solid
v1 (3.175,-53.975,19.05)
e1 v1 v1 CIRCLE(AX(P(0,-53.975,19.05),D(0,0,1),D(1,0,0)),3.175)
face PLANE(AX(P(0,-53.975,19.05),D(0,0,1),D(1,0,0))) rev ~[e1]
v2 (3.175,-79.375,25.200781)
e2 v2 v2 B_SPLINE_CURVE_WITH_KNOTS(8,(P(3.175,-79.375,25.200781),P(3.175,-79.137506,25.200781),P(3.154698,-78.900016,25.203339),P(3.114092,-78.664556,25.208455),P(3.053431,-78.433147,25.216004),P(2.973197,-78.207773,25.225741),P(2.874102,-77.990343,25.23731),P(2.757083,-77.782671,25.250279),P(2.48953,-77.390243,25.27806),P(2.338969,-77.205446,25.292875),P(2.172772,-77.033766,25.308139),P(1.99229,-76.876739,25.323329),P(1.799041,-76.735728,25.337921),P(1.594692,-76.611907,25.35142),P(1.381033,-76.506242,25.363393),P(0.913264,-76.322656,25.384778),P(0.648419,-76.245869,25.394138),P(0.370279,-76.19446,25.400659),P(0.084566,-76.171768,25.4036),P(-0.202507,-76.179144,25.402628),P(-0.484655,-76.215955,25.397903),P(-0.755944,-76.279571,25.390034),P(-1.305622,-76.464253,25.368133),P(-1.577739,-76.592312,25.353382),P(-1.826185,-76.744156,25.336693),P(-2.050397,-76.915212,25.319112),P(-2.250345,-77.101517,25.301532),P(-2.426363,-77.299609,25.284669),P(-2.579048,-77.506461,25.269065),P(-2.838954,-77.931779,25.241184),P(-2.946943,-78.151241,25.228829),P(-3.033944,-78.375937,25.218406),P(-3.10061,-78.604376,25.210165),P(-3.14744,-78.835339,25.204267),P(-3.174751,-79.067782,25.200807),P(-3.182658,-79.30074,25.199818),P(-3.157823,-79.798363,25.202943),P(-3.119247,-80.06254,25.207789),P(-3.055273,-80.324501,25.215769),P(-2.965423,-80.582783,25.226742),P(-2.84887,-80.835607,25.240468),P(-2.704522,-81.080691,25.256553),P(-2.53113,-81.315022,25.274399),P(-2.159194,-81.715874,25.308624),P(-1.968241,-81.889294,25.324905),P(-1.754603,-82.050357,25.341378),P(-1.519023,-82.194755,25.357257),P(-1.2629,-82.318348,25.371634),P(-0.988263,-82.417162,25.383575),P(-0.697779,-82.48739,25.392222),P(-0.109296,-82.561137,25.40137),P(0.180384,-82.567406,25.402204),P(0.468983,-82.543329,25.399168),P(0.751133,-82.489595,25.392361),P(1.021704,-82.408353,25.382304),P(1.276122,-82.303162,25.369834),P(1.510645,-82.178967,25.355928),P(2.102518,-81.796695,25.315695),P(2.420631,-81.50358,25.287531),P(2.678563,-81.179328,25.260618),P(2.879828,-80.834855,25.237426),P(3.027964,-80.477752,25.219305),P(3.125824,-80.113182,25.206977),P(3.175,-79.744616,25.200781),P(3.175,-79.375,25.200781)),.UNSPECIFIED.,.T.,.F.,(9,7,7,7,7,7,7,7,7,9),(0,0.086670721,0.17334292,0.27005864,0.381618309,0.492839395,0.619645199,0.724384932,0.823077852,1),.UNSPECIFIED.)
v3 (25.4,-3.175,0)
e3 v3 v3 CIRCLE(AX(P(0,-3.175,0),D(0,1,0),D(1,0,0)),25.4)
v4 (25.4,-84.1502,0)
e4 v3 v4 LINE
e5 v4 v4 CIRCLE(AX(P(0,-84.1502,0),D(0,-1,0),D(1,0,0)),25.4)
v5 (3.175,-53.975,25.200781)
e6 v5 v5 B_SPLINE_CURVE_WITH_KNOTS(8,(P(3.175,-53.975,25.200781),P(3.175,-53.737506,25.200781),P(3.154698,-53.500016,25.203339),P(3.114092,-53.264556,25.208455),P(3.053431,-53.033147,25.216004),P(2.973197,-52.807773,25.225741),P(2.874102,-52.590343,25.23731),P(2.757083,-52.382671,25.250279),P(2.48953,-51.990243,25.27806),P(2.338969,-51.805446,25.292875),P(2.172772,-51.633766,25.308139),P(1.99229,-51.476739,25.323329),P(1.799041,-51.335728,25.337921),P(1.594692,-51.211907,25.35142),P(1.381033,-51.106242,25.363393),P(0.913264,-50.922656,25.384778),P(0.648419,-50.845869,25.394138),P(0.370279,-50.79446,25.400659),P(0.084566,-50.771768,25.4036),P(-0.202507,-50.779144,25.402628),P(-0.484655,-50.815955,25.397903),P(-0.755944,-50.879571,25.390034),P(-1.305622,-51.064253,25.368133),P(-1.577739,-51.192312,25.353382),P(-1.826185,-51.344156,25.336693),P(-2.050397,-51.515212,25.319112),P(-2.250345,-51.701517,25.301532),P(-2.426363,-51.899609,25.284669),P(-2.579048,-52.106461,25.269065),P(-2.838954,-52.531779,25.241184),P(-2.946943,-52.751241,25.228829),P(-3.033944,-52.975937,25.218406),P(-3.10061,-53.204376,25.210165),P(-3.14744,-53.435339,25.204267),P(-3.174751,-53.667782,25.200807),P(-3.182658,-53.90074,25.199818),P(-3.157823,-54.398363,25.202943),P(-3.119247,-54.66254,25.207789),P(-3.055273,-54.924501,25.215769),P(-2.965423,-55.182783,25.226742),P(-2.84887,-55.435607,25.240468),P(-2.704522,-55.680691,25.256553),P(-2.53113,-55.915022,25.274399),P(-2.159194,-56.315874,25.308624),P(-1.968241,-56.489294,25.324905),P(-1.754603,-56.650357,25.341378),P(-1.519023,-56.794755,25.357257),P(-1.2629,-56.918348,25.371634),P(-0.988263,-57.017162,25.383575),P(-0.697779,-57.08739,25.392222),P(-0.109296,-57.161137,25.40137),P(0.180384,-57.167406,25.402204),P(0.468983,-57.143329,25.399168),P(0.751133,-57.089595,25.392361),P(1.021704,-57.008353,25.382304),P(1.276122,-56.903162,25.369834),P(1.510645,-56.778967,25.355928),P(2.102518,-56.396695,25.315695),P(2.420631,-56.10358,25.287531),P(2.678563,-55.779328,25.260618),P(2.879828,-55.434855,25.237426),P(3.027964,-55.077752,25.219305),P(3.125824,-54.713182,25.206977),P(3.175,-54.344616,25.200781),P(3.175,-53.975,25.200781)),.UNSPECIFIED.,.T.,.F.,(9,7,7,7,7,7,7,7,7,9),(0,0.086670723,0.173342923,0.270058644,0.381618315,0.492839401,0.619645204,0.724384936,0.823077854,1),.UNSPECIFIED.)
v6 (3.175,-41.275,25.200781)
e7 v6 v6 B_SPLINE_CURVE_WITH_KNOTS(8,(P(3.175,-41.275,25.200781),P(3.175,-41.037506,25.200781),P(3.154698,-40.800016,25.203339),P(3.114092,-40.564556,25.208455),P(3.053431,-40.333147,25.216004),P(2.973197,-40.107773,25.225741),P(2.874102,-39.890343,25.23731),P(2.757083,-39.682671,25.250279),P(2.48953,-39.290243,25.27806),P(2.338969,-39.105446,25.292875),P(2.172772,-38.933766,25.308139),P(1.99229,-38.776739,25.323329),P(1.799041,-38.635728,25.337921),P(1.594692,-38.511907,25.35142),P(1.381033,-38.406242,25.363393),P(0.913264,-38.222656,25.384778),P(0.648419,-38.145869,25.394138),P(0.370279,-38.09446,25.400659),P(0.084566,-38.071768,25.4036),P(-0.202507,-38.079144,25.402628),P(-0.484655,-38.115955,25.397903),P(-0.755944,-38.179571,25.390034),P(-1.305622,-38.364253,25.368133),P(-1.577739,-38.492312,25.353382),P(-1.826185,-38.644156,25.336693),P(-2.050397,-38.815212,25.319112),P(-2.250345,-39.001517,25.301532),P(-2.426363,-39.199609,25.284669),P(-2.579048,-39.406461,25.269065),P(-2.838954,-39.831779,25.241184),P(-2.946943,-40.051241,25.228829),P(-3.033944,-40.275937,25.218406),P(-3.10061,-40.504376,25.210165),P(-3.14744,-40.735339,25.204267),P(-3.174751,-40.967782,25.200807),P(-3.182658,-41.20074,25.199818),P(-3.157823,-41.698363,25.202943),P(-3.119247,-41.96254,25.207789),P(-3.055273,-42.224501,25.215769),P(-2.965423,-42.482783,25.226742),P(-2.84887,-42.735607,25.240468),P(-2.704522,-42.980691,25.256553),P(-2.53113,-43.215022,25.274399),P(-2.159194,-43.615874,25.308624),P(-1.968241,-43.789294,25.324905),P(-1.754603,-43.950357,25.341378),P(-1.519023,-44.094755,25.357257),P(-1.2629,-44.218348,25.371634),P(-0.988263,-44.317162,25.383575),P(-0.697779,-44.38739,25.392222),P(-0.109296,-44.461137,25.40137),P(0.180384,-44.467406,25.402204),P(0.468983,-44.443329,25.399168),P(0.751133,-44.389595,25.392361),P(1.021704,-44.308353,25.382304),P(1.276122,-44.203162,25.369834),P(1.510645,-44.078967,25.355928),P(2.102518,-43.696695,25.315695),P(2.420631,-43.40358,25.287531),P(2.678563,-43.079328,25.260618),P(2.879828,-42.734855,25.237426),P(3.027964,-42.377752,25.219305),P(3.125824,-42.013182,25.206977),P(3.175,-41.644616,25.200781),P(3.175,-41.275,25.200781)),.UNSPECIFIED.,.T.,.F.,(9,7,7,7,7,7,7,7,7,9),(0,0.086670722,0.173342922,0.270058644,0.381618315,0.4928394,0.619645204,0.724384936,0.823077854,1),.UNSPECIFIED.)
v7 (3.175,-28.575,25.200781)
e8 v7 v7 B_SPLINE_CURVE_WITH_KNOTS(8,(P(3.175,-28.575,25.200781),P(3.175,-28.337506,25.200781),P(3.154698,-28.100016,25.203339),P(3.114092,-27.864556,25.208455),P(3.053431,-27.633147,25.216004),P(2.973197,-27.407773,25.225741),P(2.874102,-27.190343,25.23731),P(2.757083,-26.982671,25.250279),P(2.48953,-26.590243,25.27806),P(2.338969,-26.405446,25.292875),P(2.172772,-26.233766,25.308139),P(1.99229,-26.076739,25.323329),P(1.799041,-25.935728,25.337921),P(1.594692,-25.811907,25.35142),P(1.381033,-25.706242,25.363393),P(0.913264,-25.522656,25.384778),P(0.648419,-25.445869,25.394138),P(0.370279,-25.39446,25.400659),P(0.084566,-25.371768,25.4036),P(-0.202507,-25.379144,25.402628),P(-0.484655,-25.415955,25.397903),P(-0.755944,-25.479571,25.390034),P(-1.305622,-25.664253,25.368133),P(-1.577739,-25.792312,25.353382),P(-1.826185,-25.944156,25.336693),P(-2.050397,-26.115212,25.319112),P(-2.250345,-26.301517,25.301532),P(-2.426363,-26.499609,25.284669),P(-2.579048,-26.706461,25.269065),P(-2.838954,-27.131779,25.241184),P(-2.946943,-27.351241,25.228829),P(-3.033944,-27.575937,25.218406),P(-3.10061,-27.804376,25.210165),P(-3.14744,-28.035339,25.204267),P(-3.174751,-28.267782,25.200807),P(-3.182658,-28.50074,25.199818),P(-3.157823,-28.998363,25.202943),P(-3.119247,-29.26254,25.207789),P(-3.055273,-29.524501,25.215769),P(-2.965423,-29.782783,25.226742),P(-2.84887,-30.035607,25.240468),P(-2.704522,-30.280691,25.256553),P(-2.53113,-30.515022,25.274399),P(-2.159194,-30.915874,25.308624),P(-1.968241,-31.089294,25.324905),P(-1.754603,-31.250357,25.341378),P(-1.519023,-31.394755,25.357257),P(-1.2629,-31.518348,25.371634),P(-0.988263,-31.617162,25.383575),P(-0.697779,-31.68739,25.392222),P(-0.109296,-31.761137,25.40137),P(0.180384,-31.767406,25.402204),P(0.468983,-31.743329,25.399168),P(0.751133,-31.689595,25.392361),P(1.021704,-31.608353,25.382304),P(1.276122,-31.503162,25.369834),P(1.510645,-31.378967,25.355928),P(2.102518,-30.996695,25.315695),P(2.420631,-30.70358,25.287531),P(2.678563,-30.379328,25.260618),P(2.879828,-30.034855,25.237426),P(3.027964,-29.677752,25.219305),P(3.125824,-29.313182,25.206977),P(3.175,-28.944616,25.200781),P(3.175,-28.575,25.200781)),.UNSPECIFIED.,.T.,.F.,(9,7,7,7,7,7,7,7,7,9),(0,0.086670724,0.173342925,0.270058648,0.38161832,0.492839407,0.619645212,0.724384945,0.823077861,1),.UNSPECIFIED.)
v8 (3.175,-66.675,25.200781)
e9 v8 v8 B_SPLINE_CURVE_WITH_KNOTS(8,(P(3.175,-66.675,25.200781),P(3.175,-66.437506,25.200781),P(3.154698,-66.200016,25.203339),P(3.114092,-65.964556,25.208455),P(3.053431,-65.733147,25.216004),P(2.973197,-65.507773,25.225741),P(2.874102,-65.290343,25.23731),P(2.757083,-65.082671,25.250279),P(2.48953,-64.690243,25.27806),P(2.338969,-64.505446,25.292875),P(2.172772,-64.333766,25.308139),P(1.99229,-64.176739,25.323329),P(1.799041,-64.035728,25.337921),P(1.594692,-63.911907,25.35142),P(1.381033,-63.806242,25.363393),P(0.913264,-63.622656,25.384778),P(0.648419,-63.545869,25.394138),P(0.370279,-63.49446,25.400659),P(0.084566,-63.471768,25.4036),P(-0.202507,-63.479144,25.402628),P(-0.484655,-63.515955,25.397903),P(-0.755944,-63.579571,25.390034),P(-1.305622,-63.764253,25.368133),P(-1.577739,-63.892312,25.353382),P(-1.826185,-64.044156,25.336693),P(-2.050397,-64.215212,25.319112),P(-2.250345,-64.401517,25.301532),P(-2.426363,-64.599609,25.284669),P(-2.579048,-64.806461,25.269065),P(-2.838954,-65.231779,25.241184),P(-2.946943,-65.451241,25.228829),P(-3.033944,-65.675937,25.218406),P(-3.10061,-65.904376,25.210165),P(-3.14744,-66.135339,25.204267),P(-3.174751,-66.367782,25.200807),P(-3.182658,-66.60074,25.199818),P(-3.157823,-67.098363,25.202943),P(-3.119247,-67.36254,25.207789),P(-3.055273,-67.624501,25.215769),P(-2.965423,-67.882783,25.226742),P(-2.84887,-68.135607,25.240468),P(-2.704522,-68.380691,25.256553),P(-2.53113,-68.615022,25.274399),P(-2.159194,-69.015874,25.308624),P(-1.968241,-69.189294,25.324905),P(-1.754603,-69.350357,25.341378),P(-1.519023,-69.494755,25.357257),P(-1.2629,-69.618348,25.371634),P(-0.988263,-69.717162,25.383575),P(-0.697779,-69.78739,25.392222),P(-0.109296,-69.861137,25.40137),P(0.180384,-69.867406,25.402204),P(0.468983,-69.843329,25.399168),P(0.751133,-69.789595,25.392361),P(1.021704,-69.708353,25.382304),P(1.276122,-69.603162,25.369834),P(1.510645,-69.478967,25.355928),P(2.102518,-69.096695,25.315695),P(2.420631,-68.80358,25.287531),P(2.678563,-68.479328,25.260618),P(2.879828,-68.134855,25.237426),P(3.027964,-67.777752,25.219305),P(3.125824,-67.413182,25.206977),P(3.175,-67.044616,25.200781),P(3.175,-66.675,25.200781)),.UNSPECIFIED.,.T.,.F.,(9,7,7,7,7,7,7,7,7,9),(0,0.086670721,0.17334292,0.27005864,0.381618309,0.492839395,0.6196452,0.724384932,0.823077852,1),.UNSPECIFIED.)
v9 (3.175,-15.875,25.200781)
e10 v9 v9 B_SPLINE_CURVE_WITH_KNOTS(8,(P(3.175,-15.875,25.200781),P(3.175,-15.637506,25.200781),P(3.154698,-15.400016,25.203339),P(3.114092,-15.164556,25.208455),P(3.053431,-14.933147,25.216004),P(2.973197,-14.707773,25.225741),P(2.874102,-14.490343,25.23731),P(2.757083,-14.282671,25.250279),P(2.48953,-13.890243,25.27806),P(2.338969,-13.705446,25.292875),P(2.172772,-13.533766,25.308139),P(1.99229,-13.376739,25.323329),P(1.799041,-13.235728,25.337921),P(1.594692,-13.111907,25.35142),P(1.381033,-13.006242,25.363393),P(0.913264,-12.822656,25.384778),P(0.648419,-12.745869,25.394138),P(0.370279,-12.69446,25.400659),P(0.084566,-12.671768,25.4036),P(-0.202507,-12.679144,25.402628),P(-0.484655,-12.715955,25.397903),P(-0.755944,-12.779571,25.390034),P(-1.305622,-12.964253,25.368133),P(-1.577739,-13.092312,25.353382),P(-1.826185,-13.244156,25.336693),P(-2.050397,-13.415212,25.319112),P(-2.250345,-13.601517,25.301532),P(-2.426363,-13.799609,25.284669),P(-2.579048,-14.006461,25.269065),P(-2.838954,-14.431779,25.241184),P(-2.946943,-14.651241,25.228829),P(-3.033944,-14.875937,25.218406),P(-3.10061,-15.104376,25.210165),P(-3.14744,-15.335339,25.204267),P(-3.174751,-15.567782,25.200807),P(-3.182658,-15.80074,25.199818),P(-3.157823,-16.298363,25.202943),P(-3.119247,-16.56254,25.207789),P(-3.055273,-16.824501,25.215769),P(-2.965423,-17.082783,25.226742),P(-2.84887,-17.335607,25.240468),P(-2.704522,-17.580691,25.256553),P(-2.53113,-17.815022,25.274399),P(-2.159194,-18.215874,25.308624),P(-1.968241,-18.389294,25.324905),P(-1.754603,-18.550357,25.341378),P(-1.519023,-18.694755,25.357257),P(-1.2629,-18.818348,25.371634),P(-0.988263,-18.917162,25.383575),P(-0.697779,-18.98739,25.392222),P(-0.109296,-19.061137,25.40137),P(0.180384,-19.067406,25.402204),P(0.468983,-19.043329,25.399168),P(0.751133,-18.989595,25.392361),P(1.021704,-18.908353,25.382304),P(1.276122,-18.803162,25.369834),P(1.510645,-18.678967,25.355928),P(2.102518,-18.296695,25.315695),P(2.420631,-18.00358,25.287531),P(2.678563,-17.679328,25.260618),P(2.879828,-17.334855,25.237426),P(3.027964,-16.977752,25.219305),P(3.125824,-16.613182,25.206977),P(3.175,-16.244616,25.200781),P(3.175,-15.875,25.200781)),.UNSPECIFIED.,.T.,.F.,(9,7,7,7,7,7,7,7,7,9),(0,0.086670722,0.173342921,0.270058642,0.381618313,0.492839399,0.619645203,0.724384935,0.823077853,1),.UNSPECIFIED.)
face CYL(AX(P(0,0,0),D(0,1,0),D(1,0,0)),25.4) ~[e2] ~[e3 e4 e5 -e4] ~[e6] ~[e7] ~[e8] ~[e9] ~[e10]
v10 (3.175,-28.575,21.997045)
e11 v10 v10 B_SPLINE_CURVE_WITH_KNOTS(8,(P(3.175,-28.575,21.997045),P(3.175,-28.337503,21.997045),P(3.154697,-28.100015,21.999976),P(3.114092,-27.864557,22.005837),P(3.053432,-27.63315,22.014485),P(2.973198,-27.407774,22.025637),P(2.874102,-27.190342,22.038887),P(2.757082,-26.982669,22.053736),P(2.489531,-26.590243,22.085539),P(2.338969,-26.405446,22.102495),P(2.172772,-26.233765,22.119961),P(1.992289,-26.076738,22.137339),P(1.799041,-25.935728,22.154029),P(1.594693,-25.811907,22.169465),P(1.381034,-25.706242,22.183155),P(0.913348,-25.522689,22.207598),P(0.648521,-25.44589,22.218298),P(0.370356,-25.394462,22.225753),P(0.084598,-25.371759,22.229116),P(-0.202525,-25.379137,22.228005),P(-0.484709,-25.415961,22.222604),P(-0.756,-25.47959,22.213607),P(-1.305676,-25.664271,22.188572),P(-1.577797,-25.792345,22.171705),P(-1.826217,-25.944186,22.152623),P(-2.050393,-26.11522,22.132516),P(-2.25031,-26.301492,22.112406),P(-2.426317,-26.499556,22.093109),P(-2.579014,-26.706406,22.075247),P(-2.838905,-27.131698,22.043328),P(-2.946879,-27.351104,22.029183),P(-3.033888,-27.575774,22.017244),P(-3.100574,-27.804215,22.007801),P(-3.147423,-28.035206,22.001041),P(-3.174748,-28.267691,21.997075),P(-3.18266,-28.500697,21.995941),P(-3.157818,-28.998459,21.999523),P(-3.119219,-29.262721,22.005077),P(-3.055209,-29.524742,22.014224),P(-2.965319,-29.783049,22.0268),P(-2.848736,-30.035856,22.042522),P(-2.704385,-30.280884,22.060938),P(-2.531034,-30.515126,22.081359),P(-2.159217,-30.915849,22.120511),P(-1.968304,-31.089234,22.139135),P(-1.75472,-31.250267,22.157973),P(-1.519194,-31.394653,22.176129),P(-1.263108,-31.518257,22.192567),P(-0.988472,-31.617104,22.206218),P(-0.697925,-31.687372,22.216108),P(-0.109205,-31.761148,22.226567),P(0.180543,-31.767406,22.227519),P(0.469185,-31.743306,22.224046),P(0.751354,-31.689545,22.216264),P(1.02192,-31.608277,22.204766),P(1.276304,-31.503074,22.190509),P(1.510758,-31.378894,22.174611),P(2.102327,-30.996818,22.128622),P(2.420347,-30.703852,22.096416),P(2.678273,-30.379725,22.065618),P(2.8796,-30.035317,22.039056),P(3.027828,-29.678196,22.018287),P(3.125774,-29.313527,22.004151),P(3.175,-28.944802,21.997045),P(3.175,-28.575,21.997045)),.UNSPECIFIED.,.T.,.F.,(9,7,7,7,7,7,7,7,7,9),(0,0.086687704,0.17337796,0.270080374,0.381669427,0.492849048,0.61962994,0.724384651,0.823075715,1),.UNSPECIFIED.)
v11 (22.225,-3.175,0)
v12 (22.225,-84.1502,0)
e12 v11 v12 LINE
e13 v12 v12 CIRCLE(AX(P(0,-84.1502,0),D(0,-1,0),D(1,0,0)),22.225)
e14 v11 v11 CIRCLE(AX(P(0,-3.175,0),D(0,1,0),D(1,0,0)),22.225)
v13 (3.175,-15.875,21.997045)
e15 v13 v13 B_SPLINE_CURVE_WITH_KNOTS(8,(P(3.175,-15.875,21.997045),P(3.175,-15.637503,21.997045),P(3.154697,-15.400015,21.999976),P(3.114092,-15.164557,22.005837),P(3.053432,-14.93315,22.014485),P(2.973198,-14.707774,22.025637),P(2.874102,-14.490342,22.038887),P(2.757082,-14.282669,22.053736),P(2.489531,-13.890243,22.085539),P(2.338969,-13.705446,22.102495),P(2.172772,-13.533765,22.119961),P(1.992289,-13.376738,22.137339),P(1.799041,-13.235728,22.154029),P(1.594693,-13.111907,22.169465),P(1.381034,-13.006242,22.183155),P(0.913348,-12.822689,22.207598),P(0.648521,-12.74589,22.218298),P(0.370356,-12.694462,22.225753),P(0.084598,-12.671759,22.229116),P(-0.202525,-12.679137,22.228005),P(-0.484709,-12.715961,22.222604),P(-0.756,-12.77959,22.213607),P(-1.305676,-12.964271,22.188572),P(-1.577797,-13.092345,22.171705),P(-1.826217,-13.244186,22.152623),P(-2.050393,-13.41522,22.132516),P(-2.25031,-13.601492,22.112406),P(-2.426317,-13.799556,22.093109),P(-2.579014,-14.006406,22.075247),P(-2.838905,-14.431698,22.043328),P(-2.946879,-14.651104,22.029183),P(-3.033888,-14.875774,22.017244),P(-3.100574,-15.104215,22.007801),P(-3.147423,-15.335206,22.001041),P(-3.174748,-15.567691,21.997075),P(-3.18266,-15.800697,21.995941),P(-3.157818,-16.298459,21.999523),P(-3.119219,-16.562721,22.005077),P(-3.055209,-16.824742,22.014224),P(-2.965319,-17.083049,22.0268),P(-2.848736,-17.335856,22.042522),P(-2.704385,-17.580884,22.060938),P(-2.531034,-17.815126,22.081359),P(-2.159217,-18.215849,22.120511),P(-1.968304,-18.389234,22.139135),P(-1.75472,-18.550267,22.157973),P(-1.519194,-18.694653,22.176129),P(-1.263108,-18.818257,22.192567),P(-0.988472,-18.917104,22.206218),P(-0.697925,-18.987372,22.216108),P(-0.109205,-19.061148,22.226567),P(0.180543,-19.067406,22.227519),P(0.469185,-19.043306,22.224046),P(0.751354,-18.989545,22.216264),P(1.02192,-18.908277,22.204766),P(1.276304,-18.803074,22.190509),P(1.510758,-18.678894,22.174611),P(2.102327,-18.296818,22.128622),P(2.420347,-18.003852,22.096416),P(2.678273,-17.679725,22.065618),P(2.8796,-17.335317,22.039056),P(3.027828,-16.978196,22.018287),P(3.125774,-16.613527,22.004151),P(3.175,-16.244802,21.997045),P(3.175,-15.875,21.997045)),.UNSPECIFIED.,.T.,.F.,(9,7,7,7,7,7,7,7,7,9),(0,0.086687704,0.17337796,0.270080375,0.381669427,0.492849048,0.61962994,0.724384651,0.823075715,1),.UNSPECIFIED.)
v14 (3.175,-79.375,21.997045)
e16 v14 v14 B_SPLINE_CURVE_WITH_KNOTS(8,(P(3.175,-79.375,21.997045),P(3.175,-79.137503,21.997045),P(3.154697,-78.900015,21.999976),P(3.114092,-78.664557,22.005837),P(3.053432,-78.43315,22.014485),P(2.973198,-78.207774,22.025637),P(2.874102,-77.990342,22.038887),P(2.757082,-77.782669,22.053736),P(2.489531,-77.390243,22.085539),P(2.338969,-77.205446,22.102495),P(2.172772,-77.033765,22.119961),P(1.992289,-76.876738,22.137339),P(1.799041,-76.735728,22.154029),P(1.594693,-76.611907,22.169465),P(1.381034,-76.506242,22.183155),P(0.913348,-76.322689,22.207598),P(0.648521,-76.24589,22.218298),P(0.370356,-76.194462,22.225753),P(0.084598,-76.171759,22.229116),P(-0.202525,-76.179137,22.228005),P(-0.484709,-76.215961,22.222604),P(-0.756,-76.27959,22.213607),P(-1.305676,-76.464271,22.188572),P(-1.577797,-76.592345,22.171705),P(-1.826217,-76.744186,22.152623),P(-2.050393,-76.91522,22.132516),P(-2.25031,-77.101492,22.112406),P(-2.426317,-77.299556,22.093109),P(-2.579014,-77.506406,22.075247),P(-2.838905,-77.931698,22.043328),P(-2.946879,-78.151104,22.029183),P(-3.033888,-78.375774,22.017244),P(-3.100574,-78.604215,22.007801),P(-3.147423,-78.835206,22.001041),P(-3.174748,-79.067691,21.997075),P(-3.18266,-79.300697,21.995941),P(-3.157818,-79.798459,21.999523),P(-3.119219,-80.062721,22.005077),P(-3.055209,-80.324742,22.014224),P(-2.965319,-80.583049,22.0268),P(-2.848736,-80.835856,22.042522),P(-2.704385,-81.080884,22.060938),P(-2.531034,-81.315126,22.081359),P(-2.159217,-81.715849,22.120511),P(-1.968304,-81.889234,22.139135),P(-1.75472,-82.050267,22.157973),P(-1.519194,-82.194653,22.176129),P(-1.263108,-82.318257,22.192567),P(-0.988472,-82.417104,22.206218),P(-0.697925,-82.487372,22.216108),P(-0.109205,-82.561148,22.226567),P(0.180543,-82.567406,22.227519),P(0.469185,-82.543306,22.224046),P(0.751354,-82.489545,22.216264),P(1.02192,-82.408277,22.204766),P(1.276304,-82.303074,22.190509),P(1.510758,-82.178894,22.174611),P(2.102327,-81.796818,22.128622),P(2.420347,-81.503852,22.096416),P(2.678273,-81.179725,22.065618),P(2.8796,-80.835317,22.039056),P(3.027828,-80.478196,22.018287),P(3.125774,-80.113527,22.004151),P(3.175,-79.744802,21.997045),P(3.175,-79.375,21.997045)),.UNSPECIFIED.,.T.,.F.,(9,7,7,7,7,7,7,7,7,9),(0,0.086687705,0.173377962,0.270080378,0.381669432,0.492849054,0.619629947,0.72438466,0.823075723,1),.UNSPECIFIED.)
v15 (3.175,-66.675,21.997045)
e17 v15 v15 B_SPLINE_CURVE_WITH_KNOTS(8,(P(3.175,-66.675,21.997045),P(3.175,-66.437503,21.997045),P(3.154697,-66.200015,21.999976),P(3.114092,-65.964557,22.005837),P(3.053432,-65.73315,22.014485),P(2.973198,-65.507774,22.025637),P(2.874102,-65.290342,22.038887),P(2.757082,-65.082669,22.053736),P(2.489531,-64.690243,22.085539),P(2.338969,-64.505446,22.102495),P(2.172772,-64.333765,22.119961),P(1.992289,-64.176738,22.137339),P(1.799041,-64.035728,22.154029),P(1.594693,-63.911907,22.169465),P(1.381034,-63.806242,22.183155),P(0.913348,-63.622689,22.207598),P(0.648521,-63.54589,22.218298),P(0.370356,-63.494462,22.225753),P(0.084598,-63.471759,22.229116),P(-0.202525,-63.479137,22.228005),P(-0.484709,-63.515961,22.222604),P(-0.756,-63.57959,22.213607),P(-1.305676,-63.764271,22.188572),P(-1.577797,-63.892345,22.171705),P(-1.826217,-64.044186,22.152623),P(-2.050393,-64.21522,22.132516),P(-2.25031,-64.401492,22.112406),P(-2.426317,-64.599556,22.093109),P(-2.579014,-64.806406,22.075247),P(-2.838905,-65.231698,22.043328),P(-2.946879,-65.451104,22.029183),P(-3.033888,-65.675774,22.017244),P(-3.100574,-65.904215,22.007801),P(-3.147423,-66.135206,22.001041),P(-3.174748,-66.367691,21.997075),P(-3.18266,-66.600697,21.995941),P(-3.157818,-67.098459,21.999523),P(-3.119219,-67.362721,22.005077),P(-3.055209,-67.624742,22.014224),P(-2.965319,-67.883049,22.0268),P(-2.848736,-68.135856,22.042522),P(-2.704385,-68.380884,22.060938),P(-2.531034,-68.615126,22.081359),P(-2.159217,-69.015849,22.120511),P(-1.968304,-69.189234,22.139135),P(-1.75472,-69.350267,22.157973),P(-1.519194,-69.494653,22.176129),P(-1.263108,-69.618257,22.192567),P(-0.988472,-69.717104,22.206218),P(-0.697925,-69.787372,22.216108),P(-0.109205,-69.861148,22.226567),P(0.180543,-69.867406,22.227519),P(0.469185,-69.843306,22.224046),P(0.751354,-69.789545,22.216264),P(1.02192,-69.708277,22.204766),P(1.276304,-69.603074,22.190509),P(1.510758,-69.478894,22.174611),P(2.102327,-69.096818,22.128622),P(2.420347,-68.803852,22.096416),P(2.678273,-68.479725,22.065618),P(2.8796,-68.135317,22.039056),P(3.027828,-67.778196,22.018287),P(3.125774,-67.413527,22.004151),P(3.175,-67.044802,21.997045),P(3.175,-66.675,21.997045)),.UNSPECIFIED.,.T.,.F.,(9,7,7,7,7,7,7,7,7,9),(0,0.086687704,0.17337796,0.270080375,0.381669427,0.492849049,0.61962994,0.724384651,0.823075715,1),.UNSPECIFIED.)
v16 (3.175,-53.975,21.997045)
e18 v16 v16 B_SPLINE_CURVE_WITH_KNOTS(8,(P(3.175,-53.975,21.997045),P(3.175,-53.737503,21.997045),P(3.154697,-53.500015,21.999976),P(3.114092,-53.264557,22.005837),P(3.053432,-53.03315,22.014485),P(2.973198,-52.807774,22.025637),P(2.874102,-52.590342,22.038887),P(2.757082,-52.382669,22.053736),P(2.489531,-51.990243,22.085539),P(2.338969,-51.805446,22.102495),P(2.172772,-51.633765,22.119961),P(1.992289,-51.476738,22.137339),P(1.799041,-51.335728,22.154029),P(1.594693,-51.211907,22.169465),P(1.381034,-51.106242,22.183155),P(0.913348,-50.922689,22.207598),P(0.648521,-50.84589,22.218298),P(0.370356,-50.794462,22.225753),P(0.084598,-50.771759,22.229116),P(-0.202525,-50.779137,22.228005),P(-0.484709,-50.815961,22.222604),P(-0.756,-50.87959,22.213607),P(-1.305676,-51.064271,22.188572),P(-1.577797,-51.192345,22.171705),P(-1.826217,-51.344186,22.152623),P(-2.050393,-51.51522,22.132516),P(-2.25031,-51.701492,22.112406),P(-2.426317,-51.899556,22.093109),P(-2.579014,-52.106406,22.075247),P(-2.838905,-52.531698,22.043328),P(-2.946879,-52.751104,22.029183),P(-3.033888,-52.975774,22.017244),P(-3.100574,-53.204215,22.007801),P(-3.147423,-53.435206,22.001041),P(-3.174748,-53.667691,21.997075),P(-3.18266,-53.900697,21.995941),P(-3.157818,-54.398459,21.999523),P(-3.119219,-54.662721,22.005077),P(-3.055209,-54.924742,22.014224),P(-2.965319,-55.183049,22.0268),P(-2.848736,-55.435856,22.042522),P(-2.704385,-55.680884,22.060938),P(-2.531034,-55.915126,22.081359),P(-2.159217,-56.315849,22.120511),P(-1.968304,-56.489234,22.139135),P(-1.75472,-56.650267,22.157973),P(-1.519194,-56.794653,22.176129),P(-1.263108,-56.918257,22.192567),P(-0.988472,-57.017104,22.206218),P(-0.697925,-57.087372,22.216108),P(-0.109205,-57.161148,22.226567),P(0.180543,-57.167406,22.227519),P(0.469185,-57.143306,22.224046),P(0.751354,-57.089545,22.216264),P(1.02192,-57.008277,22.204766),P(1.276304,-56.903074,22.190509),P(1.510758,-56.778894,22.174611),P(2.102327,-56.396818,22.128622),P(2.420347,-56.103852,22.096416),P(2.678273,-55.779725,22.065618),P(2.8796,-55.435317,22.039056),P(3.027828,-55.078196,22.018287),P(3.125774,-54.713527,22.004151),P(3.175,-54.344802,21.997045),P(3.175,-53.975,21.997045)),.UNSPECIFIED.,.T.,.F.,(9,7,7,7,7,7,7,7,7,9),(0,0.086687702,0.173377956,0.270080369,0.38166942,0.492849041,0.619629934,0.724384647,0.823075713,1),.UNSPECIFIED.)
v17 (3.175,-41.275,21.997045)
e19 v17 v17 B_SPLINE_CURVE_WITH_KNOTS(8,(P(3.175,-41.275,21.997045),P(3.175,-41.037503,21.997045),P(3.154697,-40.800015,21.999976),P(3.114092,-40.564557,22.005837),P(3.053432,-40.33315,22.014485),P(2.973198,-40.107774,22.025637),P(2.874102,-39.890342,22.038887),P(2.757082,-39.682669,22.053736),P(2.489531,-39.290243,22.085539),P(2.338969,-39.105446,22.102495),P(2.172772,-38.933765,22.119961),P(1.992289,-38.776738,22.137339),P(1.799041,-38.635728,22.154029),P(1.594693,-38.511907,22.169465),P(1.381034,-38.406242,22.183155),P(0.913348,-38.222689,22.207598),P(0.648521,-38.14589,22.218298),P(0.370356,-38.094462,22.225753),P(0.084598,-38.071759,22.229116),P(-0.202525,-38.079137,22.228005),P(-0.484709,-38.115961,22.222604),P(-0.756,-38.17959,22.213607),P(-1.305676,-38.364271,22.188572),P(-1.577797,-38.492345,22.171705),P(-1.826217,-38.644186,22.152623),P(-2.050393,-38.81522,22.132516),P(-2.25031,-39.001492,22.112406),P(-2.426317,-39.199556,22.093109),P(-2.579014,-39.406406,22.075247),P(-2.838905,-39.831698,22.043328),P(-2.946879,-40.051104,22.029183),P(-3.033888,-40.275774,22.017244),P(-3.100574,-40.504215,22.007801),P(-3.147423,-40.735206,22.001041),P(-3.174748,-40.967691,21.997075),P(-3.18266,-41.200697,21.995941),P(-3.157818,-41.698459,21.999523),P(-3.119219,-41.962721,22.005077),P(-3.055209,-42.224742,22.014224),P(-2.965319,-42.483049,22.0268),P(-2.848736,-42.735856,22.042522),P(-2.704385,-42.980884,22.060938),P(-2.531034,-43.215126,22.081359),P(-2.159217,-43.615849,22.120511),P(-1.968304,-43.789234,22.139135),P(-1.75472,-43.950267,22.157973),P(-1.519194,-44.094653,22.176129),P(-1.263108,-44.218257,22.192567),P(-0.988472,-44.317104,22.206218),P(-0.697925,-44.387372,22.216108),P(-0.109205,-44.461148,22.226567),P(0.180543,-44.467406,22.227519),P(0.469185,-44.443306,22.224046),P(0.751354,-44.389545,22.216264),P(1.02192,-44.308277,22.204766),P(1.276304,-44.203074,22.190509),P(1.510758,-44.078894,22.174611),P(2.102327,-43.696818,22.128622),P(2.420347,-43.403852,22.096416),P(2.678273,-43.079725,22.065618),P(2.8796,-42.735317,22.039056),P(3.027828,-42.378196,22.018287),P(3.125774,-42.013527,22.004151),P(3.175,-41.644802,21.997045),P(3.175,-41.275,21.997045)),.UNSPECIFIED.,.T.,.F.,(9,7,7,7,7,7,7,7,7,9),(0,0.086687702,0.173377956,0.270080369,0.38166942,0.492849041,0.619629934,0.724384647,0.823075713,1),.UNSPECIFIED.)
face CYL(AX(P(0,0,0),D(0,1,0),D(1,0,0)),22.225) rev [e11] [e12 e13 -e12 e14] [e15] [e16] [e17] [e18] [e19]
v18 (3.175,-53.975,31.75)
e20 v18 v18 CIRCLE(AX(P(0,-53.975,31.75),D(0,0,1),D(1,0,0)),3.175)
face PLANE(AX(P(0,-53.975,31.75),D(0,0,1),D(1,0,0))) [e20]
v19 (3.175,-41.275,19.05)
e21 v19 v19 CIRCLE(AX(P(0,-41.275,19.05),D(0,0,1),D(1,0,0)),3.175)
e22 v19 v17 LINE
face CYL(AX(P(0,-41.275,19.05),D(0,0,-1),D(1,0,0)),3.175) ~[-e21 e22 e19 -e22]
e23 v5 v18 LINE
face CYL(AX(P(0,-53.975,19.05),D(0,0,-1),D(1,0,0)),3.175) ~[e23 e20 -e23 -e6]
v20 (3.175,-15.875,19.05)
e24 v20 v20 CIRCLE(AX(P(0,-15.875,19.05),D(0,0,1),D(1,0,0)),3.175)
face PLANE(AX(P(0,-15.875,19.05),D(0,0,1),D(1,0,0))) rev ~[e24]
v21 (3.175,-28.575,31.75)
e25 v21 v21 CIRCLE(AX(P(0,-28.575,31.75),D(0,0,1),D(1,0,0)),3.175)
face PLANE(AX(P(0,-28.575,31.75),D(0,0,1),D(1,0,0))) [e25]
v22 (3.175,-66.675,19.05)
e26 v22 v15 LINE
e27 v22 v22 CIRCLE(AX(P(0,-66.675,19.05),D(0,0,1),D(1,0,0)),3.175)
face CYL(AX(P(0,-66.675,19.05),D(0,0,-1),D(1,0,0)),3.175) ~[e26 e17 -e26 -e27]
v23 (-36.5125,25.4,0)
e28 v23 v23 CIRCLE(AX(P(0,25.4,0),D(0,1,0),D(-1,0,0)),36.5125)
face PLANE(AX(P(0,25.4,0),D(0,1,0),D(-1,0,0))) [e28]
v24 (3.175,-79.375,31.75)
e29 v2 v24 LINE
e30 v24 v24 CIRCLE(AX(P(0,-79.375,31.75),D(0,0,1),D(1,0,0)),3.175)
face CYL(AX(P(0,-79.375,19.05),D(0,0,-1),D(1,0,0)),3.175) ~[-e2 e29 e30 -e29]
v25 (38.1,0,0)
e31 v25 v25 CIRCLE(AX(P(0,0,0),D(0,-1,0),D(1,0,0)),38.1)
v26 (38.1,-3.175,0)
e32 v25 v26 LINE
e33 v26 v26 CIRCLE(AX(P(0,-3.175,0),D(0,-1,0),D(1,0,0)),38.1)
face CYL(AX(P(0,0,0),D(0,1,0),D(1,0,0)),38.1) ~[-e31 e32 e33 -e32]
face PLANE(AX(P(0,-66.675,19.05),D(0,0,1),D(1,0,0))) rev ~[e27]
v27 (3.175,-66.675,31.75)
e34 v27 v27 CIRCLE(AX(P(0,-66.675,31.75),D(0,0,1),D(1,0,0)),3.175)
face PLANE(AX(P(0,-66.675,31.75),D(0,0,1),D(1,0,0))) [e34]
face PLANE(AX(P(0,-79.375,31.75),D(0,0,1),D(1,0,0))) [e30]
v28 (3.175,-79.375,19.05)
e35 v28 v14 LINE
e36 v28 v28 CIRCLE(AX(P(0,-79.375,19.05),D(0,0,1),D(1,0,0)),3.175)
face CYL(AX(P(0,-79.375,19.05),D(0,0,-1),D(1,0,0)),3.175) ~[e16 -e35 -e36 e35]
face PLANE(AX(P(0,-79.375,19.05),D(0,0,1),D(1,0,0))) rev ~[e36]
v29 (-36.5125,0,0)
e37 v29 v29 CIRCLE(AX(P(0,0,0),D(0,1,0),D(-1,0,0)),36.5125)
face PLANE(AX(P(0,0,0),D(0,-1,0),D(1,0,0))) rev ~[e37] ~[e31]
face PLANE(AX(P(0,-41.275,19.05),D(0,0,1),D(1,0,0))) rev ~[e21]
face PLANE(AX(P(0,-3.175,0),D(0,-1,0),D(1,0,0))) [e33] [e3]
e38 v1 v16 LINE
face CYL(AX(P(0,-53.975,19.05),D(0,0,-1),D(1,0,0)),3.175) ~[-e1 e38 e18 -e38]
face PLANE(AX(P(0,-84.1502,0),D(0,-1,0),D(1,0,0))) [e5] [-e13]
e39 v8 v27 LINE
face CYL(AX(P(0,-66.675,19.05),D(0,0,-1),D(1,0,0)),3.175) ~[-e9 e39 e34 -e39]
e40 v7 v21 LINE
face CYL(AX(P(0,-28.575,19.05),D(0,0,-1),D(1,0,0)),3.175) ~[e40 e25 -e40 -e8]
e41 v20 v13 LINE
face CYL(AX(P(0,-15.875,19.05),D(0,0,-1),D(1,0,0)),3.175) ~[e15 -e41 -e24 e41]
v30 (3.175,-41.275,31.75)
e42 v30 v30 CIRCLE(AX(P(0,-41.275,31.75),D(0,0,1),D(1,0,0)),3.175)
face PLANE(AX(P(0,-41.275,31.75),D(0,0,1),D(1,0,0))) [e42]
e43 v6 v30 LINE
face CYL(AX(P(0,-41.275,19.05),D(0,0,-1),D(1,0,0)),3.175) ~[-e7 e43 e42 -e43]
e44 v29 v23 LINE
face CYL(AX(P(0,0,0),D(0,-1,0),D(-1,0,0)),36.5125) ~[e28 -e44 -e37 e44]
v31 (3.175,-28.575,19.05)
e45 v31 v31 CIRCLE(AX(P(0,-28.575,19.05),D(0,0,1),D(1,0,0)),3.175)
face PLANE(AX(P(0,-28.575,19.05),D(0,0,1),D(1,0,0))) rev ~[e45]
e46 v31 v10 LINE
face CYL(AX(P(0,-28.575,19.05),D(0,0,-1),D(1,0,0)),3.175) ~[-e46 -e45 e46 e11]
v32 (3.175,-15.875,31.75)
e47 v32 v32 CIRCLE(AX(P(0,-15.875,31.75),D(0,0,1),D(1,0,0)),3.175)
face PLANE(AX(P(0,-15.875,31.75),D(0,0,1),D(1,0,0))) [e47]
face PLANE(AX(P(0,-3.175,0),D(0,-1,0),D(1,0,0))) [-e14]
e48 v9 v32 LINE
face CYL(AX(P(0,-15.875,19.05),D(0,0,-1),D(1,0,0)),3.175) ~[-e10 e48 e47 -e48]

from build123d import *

# Parameters (mm, degrees)
F0_R     = 25.4
F0_R_2   = 22.225
F1_DEPTH = 84.1502
F2_R     = 38.1
F3_DEPTH = 3.175
F4_R     = 36.5125
F5_DEPTH = 25.4
F7_R     = 3.175
F8_DEPTH = 12.7


with BuildPart() as f1:
    # F0 (on Front) → F1 (new body)
    with BuildSketch(Plane.XZ):
        Circle(F0_R)
        Circle(F0_R_2, mode=Mode.SUBTRACT)
    extrude(amount=F1_DEPTH)

    # F2 (on Front) → F3 (join)
    with BuildSketch(Plane.XZ):
        Circle(F2_R)
    extrude(amount=F3_DEPTH)

    # F4 (on face) → F5 (join)
    with BuildSketch(Plane(origin=(0, 0, 0), x_dir=(-1, 0, 0), z_dir=(0, 1, 0))):
        Circle(F4_R)
    extrude(amount=F5_DEPTH)

    # F7 (on offset) → F8 (join)
    with BuildSketch(Plane.XY.offset(19.05)):
        with Locations((0, -15.875)):
            Circle(F7_R)
        with Locations((0, -28.575)):
            Circle(F7_R)
        with Locations((0, -41.275)):
            Circle(F7_R)
        with Locations((0, -53.975)):
            Circle(F7_R)
        with Locations((0, -66.675)):
            Circle(F7_R)
        with Locations((0, -79.375)):
            Circle(F7_R)
    extrude(amount=F8_DEPTH)


solid = f1.part
